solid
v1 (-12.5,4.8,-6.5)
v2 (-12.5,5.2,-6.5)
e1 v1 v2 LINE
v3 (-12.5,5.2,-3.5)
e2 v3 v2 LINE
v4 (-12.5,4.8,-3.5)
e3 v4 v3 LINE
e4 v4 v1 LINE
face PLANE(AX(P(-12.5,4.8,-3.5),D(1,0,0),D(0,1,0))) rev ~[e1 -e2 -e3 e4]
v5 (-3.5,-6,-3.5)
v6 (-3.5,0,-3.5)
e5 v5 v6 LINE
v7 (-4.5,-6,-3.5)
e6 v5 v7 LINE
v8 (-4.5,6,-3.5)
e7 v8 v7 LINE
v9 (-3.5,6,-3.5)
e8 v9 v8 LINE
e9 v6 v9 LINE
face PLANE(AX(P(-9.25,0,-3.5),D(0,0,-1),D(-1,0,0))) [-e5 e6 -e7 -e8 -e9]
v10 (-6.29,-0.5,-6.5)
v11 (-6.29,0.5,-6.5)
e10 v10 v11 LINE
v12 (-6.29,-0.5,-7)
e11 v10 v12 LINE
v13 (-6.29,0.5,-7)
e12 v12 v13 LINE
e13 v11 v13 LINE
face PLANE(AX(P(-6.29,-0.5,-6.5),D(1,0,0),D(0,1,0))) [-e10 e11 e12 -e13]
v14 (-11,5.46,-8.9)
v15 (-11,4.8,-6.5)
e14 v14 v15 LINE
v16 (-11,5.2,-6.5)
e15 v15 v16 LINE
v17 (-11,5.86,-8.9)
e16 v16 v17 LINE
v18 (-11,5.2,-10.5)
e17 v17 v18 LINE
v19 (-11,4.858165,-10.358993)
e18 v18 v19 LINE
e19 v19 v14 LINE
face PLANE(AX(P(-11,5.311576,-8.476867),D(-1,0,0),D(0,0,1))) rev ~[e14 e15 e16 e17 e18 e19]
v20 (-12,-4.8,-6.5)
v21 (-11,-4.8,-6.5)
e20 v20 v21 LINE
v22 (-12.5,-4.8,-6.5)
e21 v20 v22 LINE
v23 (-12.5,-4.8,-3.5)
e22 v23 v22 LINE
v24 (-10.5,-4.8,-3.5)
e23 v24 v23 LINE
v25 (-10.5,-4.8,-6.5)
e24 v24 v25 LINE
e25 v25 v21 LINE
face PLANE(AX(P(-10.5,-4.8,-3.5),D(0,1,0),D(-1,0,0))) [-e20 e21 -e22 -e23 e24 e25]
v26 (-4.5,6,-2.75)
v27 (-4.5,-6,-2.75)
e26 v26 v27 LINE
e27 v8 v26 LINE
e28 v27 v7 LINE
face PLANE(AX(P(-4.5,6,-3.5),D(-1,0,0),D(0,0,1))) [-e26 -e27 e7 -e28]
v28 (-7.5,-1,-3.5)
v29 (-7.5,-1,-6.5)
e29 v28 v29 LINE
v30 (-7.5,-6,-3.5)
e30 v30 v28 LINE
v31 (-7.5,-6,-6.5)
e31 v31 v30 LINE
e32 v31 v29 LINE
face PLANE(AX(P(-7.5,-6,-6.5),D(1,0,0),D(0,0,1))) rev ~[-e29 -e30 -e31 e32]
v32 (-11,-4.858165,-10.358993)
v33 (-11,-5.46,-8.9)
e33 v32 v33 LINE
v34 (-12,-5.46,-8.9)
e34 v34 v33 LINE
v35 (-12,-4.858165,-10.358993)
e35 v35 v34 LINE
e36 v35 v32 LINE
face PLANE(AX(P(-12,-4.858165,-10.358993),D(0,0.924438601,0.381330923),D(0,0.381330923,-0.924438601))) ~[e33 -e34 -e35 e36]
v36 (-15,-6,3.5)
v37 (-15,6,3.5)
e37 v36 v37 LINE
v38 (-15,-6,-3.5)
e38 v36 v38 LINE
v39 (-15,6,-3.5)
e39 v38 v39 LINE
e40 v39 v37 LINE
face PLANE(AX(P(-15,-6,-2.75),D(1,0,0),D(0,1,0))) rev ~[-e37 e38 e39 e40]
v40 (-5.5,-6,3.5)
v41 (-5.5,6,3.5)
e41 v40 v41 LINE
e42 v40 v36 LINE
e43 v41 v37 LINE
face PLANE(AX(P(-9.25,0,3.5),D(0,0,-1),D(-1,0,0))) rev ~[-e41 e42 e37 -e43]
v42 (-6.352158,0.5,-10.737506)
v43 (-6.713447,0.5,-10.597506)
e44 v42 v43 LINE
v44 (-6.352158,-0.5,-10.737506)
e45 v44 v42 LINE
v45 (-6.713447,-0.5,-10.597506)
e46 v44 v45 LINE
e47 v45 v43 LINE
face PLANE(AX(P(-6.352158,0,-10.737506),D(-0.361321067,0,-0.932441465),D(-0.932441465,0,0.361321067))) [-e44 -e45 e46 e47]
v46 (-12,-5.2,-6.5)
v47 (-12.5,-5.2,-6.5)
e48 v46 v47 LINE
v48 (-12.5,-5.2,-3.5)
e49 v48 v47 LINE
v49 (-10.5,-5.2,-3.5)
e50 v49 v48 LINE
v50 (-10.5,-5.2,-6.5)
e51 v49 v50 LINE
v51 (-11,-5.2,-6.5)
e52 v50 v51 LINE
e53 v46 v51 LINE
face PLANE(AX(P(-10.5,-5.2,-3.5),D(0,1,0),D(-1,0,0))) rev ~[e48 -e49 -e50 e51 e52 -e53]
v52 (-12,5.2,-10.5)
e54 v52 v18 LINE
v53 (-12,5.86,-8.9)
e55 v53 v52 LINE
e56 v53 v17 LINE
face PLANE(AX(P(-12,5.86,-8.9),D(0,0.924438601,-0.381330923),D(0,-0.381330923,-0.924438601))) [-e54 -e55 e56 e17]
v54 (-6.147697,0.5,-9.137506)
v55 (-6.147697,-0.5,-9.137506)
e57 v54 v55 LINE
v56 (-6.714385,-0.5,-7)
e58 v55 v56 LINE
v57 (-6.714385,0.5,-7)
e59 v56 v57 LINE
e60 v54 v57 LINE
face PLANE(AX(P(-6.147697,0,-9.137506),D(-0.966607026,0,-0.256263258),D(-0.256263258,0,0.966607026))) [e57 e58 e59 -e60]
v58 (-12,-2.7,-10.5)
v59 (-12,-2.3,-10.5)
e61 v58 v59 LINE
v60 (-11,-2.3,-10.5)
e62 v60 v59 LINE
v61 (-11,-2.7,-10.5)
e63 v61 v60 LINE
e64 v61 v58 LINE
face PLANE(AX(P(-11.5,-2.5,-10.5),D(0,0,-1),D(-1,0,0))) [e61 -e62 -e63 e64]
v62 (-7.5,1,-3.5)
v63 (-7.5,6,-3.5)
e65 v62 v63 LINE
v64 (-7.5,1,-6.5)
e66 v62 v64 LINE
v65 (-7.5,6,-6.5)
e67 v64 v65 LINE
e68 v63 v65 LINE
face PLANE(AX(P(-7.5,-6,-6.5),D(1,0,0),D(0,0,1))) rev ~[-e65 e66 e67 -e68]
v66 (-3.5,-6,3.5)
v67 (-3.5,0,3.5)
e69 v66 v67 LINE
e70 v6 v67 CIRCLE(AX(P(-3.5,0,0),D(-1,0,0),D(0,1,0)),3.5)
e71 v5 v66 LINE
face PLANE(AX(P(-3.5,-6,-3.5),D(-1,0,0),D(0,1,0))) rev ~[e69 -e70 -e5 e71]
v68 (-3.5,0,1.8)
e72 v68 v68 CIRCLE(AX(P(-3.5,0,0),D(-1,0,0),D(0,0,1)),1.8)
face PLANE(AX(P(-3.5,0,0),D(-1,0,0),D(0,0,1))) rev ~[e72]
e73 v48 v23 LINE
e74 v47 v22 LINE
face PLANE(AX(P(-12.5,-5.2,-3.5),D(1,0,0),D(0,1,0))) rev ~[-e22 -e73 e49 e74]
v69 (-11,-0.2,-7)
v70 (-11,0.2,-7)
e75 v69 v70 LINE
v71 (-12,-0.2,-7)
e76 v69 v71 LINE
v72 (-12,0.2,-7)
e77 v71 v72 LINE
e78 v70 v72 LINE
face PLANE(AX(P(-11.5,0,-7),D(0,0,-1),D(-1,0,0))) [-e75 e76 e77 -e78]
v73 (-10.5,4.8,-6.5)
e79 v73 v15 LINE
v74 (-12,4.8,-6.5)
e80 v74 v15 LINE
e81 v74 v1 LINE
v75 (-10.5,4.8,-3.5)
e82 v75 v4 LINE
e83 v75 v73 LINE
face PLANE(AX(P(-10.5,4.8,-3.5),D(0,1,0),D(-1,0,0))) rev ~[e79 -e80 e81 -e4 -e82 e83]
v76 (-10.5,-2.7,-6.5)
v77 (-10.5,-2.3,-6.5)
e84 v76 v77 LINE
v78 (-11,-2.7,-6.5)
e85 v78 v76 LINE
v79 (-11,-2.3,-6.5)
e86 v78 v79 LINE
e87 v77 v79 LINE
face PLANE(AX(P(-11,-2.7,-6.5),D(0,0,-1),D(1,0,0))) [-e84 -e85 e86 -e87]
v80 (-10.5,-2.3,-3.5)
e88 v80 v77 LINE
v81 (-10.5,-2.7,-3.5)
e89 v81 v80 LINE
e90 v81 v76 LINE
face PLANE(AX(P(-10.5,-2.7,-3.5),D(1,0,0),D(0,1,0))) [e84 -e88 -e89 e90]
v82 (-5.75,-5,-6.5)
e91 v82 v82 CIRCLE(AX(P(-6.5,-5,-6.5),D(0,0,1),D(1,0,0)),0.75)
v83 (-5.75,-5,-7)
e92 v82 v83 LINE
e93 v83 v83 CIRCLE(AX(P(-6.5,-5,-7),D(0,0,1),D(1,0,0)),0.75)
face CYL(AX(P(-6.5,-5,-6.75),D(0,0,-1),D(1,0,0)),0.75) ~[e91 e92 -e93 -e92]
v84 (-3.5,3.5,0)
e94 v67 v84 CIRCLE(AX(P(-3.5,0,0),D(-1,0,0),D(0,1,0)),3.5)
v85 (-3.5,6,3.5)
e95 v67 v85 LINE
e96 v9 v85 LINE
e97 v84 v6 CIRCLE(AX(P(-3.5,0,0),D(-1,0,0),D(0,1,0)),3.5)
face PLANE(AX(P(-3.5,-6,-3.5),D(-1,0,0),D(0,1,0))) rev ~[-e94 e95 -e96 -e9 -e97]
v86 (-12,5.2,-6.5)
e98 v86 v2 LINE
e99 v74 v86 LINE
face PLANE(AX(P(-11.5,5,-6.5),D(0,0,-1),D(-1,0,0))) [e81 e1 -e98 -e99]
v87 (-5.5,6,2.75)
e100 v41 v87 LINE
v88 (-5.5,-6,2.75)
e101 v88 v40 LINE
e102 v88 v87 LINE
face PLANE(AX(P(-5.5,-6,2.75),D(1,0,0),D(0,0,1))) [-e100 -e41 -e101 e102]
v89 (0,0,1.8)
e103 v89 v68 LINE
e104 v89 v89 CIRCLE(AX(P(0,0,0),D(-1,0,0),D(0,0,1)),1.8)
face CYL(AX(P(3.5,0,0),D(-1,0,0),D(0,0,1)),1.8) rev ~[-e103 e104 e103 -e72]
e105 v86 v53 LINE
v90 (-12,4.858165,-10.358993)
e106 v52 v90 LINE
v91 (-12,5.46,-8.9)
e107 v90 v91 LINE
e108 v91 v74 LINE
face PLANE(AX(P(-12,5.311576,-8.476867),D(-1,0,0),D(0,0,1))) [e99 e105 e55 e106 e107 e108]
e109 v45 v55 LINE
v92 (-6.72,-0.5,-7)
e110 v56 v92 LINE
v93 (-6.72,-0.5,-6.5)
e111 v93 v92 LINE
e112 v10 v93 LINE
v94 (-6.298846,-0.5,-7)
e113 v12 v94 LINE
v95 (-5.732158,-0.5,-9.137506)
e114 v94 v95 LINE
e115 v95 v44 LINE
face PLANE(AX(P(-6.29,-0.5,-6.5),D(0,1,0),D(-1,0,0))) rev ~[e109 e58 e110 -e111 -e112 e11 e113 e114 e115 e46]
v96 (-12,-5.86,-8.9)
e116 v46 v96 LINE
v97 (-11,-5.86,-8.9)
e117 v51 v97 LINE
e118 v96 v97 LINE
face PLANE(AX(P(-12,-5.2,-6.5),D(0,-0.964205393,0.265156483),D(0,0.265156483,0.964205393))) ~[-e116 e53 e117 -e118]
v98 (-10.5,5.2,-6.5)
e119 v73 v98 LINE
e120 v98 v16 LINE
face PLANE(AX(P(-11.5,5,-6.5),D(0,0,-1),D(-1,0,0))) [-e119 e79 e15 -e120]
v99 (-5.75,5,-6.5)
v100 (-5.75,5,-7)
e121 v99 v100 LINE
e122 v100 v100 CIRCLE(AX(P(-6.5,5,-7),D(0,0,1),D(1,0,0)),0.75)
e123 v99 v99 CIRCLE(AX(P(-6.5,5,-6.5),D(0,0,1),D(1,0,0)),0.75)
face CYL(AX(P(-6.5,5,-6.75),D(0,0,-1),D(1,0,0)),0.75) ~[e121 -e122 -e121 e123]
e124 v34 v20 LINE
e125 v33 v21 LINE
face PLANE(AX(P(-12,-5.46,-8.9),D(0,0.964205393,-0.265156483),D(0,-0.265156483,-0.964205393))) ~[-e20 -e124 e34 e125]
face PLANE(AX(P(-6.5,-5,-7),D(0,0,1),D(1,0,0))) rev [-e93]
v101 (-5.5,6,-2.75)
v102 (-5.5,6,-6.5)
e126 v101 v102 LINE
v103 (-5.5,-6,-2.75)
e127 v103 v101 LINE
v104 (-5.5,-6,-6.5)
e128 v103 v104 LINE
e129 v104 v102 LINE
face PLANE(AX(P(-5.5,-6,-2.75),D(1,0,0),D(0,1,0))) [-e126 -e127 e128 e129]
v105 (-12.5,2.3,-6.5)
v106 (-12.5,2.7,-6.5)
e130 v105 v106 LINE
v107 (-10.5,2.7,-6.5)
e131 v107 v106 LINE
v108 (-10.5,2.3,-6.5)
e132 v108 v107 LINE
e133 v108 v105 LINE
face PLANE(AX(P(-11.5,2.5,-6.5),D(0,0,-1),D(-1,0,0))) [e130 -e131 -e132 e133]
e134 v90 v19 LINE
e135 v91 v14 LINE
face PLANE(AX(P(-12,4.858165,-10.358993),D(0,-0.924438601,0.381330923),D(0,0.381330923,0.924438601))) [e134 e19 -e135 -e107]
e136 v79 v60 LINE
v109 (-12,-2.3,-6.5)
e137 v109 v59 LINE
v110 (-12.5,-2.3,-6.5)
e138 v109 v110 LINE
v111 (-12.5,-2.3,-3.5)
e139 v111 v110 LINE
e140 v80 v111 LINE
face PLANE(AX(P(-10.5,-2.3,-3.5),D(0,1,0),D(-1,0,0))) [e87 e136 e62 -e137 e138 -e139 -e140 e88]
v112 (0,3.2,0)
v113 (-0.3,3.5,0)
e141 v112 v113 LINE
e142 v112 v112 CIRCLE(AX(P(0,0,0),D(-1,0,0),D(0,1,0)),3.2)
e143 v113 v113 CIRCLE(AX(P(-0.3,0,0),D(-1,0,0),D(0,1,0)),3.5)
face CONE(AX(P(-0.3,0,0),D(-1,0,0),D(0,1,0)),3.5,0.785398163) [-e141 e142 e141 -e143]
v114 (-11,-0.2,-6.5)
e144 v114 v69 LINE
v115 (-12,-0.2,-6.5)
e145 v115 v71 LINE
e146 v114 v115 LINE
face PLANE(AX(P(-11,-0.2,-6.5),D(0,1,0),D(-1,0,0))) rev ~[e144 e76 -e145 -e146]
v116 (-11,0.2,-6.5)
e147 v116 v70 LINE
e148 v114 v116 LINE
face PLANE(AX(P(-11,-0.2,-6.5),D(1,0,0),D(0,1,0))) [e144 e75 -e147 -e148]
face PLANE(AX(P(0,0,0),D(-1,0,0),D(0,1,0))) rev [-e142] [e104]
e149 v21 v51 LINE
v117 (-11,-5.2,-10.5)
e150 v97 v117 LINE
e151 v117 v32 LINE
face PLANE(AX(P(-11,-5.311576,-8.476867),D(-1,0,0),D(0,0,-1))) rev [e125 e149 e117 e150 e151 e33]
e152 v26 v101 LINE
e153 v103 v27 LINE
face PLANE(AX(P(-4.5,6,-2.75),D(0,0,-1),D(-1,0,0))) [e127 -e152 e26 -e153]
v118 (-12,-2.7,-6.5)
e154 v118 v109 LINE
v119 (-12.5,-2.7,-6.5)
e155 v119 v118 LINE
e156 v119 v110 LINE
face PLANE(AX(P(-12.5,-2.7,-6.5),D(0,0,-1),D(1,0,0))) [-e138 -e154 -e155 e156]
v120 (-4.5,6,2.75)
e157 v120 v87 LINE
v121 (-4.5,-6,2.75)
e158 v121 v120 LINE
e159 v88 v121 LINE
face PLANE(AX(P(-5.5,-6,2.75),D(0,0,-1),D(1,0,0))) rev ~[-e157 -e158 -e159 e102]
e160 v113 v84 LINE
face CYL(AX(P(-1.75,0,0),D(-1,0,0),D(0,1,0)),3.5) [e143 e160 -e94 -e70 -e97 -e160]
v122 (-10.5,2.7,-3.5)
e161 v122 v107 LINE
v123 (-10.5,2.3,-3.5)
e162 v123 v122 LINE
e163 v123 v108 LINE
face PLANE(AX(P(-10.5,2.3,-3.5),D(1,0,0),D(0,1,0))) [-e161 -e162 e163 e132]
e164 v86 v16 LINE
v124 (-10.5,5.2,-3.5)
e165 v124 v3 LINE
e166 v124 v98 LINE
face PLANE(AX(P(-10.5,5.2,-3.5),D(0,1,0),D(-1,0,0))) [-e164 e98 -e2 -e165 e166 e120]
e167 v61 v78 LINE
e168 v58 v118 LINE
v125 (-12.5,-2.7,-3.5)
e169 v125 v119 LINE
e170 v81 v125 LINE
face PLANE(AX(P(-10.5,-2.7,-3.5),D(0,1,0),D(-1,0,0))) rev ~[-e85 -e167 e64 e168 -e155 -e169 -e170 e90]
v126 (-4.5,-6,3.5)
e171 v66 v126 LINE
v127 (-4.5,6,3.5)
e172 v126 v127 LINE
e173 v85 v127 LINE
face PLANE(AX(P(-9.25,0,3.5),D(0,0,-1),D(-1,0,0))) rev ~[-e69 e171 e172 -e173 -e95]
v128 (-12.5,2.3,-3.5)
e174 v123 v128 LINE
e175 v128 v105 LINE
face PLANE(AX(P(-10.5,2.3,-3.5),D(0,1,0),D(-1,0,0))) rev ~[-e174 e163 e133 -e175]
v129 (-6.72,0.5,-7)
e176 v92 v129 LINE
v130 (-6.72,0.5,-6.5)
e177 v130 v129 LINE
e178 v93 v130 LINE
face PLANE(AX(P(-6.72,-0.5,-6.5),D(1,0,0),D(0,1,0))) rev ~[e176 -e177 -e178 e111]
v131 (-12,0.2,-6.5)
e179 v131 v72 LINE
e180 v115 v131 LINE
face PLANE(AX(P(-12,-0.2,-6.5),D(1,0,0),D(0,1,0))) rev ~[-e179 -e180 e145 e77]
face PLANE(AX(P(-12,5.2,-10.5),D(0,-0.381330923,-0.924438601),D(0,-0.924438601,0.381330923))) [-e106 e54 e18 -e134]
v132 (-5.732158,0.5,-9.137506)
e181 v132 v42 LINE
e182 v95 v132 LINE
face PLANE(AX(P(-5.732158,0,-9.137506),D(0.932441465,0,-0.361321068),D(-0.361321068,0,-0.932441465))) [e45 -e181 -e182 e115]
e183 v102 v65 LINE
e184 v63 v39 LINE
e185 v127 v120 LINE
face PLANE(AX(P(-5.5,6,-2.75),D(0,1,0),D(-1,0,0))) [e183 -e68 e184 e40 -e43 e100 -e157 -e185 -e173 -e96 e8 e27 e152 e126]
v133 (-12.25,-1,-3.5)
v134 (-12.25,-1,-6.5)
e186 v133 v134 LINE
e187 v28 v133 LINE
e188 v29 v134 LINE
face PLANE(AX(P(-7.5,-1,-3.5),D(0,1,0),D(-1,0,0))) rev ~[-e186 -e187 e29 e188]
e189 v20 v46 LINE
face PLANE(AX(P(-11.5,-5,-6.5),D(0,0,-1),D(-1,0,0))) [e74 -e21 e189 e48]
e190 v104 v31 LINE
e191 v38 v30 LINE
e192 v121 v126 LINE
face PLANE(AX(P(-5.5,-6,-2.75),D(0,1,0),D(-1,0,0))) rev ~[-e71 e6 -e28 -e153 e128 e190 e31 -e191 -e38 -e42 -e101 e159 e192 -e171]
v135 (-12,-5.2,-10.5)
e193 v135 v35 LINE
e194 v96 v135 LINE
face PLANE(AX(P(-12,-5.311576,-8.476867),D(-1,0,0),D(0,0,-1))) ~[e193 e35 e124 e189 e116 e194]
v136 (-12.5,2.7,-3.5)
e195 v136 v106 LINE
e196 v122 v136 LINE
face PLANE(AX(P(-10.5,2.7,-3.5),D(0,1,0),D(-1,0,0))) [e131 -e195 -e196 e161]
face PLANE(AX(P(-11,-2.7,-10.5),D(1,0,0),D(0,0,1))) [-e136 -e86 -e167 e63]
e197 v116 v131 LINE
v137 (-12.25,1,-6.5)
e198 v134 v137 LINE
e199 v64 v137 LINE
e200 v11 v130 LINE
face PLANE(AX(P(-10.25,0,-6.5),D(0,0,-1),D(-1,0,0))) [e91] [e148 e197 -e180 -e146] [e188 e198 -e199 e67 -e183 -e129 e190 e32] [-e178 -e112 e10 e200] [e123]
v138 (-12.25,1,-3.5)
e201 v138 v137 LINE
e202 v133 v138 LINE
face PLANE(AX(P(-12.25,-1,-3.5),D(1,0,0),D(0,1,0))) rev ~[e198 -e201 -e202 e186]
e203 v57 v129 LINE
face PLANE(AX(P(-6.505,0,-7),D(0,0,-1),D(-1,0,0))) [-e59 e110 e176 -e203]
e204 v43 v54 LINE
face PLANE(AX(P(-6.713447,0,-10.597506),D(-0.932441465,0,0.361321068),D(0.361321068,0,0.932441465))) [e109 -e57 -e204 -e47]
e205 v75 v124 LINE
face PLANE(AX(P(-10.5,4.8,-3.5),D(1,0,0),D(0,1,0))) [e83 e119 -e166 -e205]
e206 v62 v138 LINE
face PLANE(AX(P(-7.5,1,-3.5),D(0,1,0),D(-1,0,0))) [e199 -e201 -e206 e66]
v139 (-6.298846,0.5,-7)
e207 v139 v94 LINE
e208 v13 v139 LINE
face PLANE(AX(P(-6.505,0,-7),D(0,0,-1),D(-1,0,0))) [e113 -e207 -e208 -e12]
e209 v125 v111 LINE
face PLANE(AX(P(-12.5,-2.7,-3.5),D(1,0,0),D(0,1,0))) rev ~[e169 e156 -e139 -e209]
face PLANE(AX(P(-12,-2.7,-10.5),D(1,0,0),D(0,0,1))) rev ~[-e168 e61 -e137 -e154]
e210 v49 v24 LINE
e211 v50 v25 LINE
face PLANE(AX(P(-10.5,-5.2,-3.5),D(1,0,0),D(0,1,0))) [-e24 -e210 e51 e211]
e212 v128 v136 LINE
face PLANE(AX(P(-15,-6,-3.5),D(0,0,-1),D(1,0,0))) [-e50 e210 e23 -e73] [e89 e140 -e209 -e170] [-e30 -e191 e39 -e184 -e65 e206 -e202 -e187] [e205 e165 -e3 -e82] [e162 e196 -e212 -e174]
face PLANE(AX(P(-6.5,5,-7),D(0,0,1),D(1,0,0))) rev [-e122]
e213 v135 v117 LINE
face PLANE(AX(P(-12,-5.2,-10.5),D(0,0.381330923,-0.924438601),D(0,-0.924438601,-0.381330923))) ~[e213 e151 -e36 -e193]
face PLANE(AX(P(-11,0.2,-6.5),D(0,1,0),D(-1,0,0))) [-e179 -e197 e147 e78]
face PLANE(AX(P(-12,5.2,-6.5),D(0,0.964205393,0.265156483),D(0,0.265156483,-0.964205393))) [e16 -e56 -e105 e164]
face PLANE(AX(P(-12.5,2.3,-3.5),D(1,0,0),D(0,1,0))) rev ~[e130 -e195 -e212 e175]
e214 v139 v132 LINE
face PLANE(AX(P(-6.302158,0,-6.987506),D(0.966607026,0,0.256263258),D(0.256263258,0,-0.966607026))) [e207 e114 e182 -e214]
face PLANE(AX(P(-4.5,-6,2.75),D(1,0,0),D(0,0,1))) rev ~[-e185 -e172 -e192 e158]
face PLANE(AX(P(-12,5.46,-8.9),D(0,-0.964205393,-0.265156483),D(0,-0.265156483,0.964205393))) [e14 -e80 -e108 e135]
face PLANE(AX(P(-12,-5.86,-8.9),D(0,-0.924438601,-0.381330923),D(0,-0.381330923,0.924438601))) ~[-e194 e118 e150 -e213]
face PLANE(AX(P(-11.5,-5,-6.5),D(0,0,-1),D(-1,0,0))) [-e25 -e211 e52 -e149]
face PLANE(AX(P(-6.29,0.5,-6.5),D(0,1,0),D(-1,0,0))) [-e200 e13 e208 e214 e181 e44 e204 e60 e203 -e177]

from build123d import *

# Parameters (mm, degrees)
ESBO_O1_W                        = 11.5
ESBO_O1_H                        = 12
RESSALTO_EXTRUS_O1_DEPTH         = 7
ESBO_O2_W                        = 10.5
ESBO_O2_H                        = 0.75
CORTE_EXTRUS_O1_DEPTH            = 13
ESBO_O3_W                        = 9.5
ESBO_O3_H                        = 12
RESSALTO_EXTRUS_O2_DEPTH         = 3.75
ESBO_O4_W                        = 7.5
ESBO_O4_H                        = 3
CORTE_EXTRUS_O2_DEPTH            = 13
ESBO_O5_W                        = 2
ESBO_O5_H                        = 0.4
RESSALTO_EXTRUS_O3_DEPTH         = 7
ESBO_O6_W                        = 0.5
ESBO_O6_H                        = 4
CORTE_EXTRUS_O3_DEPTH            = 9.7
ESBO_O7_W                        = 0.5
ESBO_O7_H                        = 4
CORTE_EXTRUS_O4_DEPTH            = 9.7
ESBO_O8_W                        = 4.75
ESBO_O8_H                        = 2
RESSALTO_EXTRUS_O4_DEPTH         = 3
ESBO_O9_W                        = 1
ESBO_O9_H                        = 0.75
CORTE_EXTRUS_O5_DEPTH            = 13
ESBO_O10_W                       = 2
ESBO_O10_H                       = 0.4
RESSALTO_EXTRUS_O5_DEPTH         = 3
ESBO_O11_W                       = 2
ESBO_O11_H                       = 0.4
RESSALTO_EXTRUS_O6_DEPTH         = 3
ESBO_O12_W                       = 2
ESBO_O12_H                       = 0.4
RESSALTO_EXTRUS_O7_DEPTH         = 3
ESBO_O13_W                       = 1
ESBO_O13_H                       = 0.4
RESSALTO_EXTRUS_O8_DEPTH         = 0.5
ESBO_O14_W                       = 0.75
ESBO_O14_H                       = 0.5
ESBO_O15_W                       = 0.75
ESBO_O15_H                       = 0.5
ESBO_O16_W                       = 3.5
ESBO_O16_H                       = 3.5
FURO_DE_DI_METRO_3_6_3_6_1_D     = 3.6
FURO_DE_DI_METRO_3_6_3_6_1_DEPTH = 3.5
CHANFRO1_SIZE                    = 0.3
ESBO_O19_W                       = 0.43
ESBO_O19_H                       = 1
RESSALTO_EXTRUS_O9_DEPTH         = 0.5
RESSALTO_EXTRUS_O10_DEPTH        = 0.5
RESSALTO_EXTRUS_O11_START        = -0.5
RESSALTO_EXTRUS_O11_DEPTH        = 1


with BuildPart() as part:
    # Esboço1 → Ressalto-extrusão1 (new body)
    with BuildSketch(Plane(origin=(0, 0, -3.5), x_dir=(-1, 0, 0), z_dir=(0, 0, -1))):
        with Locations((9.25, 0)):
            Rectangle(ESBO_O1_W, ESBO_O1_H)
    extrude(amount=-RESSALTO_EXTRUS_O1_DEPTH)

    # Esboço2 → Corte-extrusão1 (cut, through all)
    with BuildSketch(Plane(origin=(0, 6, 0), x_dir=(-1, 0, 0), z_dir=(0, 1, 0))):
        with Locations((9.75, -3.125)):
            Rectangle(ESBO_O2_W, ESBO_O2_H)
    extrude(amount=-CORTE_EXTRUS_O1_DEPTH, mode=Mode.SUBTRACT)

    # Esboço3 → Ressalto-extrusão2 (add)
    with BuildSketch(Plane(origin=(0, 0, -2.75), x_dir=(-1, 0, 0), z_dir=(0, 0, -1))):
        with Locations((10.25, 0)):
            Rectangle(ESBO_O3_W, ESBO_O3_H)
    extrude(amount=RESSALTO_EXTRUS_O2_DEPTH)

    # Esboço4 → Corte-extrusão2 (cut, through all)
    with BuildSketch(Plane.XZ.offset(6)):
        with Locations((-11.25, -5)):
            Rectangle(ESBO_O4_W, ESBO_O4_H)
    extrude(amount=-CORTE_EXTRUS_O2_DEPTH, mode=Mode.SUBTRACT)

    # Esboço5 → Ressalto-extrusão3 (add)
    with BuildSketch(Plane(origin=(0, 0, -3.5), x_dir=(-1, 0, 0), z_dir=(0, 0, -1))):
        with Locations((11.5, -2.5)):
            Rectangle(ESBO_O5_W, ESBO_O5_H)
    extrude(amount=RESSALTO_EXTRUS_O3_DEPTH)

    # Esboço6 → Corte-extrusão3 (cut, through all)
    with BuildSketch(Plane.XZ.offset(2.7)):
        with Locations((-10.75, -8.5)):
            Rectangle(ESBO_O6_W, ESBO_O6_H)
    extrude(amount=-CORTE_EXTRUS_O3_DEPTH, mode=Mode.SUBTRACT)

    # Esboço7 → Corte-extrusão4 (cut, through all)
    with BuildSketch(Plane.XZ.offset(2.7)):
        with Locations((-12.25, -8.5)):
            Rectangle(ESBO_O7_W, ESBO_O7_H)
    extrude(amount=-CORTE_EXTRUS_O4_DEPTH, mode=Mode.SUBTRACT)

    # Esboço8 → Ressalto-extrusão4 (add)
    with BuildSketch(Plane(origin=(0, 0, -3.5), x_dir=(-1, 0, 0), z_dir=(0, 0, -1))):
        with Locations((9.875, 0)):
            Rectangle(ESBO_O8_W, ESBO_O8_H)
    extrude(amount=RESSALTO_EXTRUS_O4_DEPTH)

    # Esboço9 → Corte-extrusão5 (cut, through all)
    with BuildSketch(Plane.XZ.offset(6)):
        with Locations((-5, 3.125)):
            Rectangle(ESBO_O9_W, ESBO_O9_H)
    extrude(amount=-CORTE_EXTRUS_O5_DEPTH, mode=Mode.SUBTRACT)

    # Esboço10 → Ressalto-extrusão5 (add)
    with BuildSketch(Plane(origin=(0, 0, -3.5), x_dir=(-1, 0, 0), z_dir=(0, 0, -1))):
        with Locations((11.5, 5)):
            Rectangle(ESBO_O10_W, ESBO_O10_H)
    extrude(amount=RESSALTO_EXTRUS_O5_DEPTH)

    # Esboço11 → Ressalto-extrusão6 (add)
    with BuildSketch(Plane(origin=(0, 0, -3.5), x_dir=(-1, 0, 0), z_dir=(0, 0, -1))):
        with Locations((11.5, -5)):
            Rectangle(ESBO_O11_W, ESBO_O11_H)
    extrude(amount=RESSALTO_EXTRUS_O6_DEPTH)

    # Esboço12 → Ressalto-extrusão7 (add)
    with BuildSketch(Plane(origin=(0, 0, -3.5), x_dir=(-1, 0, 0), z_dir=(0, 0, -1))):
        with Locations((11.5, 2.5)):
            Rectangle(ESBO_O12_W, ESBO_O12_H)
    extrude(amount=RESSALTO_EXTRUS_O7_DEPTH)

    # Esboço13 → Ressalto-extrusão8 (add)
    with BuildSketch(Plane(origin=(0, 0, -6.5), x_dir=(-1, 0, 0), z_dir=(0, 0, -1))):
        with Locations((11.5, 0)):
            Rectangle(ESBO_O13_W, ESBO_O13_H)
    extrude(amount=RESSALTO_EXTRUS_O8_DEPTH)

    # Esboço14 → Revolução1 (revolve)
    with BuildSketch(Plane(origin=(0, -5, 0), x_dir=(1, 0, 0), z_dir=(0, 1, 0))):
        with Locations((-6.125, 6.75)):
            Rectangle(ESBO_O14_W, ESBO_O14_H)
    revolve(axis=Axis((-6.5, -5, -7), (0, 0, 1)))

    # Esboço15 → Revolução2 (revolve)
    with BuildSketch(Plane(origin=(0, 5, 0), x_dir=(1, 0, 0), z_dir=(0, 1, 0))):
        with Locations((-6.125, 6.75)):
            Rectangle(ESBO_O15_W, ESBO_O15_H)
    revolve(axis=Axis((-6.5, 5, -7), (0, 0, 1)))

    # Esboço16 → Revolução3 (revolve)
    with BuildSketch(Plane(origin=(0, 0, 0), x_dir=(-1, 0, 0), z_dir=(0, 0, -1))):
        with Locations((1.75, 1.75)):
            Rectangle(ESBO_O16_W, ESBO_O16_H)
    revolve(axis=Axis((0, 0, 0), (-1, 0, 0)))

    # Furo de diâmetro Ø3.6 (3.6)1
    with Locations(Plane(origin=(0, 0, 0), x_dir=(0, 0, -1), z_dir=(1, 0, 0))):
        with Locations((0, 0)):
            Hole(FURO_DE_DI_METRO_3_6_3_6_1_D / 2, depth=FURO_DE_DI_METRO_3_6_3_6_1_DEPTH)

    # Chanfro1
    chanfro1_edges = [part.edges().sort_by_distance(p)[0] for p in [
        (0, -3.5, 0),
    ]]
    chamfer(chanfro1_edges, length=CHANFRO1_SIZE)

    # Esboço19 → Ressalto-extrusão9 (add)
    with BuildSketch(Plane(origin=(0, 0, -6.5), x_dir=(-1, 0, 0), z_dir=(0, 0, -1))):
        with Locations((6.505, 0)):
            Rectangle(ESBO_O19_W, ESBO_O19_H)
    extrude(amount=RESSALTO_EXTRUS_O9_DEPTH)

    # Esboço20 → Ressalto-extrusão10 (add, symmetric)
    with BuildSketch(Plane(origin=(0, 0, 0), x_dir=(1, 0, 0), z_dir=(0, 1, 0))):
        Polygon((-6.302158206, 6.98750552), (-5.732158206, 9.13750552), (-6.352158206, 10.73750552), (-6.713447386, 10.597505963), (-6.147697214, 9.13750552), (-6.717697214, 6.98750552), align=None)
    extrude(amount=RESSALTO_EXTRUS_O10_DEPTH, both=True)

    # Esboço21 → Ressalto-extrusão11 (add)
    with BuildSketch(Plane.ZY.offset(12.5).offset(RESSALTO_EXTRUS_O11_START)):
        Polygon((-6.5, 5.2), (-8.9, 5.86), (-10.5, 5.2), (-10.35899319, 4.858165309), (-8.9, 5.46), (-6.5, 4.8), align=None)
    ressalto_extrus_o11 = extrude(amount=-RESSALTO_EXTRUS_O11_DEPTH)

    # Espelhar1: Ressalto-extrusão11 across plane
    add(ressalto_extrus_o11.mirror(Plane.ZX))


solid = part.part
